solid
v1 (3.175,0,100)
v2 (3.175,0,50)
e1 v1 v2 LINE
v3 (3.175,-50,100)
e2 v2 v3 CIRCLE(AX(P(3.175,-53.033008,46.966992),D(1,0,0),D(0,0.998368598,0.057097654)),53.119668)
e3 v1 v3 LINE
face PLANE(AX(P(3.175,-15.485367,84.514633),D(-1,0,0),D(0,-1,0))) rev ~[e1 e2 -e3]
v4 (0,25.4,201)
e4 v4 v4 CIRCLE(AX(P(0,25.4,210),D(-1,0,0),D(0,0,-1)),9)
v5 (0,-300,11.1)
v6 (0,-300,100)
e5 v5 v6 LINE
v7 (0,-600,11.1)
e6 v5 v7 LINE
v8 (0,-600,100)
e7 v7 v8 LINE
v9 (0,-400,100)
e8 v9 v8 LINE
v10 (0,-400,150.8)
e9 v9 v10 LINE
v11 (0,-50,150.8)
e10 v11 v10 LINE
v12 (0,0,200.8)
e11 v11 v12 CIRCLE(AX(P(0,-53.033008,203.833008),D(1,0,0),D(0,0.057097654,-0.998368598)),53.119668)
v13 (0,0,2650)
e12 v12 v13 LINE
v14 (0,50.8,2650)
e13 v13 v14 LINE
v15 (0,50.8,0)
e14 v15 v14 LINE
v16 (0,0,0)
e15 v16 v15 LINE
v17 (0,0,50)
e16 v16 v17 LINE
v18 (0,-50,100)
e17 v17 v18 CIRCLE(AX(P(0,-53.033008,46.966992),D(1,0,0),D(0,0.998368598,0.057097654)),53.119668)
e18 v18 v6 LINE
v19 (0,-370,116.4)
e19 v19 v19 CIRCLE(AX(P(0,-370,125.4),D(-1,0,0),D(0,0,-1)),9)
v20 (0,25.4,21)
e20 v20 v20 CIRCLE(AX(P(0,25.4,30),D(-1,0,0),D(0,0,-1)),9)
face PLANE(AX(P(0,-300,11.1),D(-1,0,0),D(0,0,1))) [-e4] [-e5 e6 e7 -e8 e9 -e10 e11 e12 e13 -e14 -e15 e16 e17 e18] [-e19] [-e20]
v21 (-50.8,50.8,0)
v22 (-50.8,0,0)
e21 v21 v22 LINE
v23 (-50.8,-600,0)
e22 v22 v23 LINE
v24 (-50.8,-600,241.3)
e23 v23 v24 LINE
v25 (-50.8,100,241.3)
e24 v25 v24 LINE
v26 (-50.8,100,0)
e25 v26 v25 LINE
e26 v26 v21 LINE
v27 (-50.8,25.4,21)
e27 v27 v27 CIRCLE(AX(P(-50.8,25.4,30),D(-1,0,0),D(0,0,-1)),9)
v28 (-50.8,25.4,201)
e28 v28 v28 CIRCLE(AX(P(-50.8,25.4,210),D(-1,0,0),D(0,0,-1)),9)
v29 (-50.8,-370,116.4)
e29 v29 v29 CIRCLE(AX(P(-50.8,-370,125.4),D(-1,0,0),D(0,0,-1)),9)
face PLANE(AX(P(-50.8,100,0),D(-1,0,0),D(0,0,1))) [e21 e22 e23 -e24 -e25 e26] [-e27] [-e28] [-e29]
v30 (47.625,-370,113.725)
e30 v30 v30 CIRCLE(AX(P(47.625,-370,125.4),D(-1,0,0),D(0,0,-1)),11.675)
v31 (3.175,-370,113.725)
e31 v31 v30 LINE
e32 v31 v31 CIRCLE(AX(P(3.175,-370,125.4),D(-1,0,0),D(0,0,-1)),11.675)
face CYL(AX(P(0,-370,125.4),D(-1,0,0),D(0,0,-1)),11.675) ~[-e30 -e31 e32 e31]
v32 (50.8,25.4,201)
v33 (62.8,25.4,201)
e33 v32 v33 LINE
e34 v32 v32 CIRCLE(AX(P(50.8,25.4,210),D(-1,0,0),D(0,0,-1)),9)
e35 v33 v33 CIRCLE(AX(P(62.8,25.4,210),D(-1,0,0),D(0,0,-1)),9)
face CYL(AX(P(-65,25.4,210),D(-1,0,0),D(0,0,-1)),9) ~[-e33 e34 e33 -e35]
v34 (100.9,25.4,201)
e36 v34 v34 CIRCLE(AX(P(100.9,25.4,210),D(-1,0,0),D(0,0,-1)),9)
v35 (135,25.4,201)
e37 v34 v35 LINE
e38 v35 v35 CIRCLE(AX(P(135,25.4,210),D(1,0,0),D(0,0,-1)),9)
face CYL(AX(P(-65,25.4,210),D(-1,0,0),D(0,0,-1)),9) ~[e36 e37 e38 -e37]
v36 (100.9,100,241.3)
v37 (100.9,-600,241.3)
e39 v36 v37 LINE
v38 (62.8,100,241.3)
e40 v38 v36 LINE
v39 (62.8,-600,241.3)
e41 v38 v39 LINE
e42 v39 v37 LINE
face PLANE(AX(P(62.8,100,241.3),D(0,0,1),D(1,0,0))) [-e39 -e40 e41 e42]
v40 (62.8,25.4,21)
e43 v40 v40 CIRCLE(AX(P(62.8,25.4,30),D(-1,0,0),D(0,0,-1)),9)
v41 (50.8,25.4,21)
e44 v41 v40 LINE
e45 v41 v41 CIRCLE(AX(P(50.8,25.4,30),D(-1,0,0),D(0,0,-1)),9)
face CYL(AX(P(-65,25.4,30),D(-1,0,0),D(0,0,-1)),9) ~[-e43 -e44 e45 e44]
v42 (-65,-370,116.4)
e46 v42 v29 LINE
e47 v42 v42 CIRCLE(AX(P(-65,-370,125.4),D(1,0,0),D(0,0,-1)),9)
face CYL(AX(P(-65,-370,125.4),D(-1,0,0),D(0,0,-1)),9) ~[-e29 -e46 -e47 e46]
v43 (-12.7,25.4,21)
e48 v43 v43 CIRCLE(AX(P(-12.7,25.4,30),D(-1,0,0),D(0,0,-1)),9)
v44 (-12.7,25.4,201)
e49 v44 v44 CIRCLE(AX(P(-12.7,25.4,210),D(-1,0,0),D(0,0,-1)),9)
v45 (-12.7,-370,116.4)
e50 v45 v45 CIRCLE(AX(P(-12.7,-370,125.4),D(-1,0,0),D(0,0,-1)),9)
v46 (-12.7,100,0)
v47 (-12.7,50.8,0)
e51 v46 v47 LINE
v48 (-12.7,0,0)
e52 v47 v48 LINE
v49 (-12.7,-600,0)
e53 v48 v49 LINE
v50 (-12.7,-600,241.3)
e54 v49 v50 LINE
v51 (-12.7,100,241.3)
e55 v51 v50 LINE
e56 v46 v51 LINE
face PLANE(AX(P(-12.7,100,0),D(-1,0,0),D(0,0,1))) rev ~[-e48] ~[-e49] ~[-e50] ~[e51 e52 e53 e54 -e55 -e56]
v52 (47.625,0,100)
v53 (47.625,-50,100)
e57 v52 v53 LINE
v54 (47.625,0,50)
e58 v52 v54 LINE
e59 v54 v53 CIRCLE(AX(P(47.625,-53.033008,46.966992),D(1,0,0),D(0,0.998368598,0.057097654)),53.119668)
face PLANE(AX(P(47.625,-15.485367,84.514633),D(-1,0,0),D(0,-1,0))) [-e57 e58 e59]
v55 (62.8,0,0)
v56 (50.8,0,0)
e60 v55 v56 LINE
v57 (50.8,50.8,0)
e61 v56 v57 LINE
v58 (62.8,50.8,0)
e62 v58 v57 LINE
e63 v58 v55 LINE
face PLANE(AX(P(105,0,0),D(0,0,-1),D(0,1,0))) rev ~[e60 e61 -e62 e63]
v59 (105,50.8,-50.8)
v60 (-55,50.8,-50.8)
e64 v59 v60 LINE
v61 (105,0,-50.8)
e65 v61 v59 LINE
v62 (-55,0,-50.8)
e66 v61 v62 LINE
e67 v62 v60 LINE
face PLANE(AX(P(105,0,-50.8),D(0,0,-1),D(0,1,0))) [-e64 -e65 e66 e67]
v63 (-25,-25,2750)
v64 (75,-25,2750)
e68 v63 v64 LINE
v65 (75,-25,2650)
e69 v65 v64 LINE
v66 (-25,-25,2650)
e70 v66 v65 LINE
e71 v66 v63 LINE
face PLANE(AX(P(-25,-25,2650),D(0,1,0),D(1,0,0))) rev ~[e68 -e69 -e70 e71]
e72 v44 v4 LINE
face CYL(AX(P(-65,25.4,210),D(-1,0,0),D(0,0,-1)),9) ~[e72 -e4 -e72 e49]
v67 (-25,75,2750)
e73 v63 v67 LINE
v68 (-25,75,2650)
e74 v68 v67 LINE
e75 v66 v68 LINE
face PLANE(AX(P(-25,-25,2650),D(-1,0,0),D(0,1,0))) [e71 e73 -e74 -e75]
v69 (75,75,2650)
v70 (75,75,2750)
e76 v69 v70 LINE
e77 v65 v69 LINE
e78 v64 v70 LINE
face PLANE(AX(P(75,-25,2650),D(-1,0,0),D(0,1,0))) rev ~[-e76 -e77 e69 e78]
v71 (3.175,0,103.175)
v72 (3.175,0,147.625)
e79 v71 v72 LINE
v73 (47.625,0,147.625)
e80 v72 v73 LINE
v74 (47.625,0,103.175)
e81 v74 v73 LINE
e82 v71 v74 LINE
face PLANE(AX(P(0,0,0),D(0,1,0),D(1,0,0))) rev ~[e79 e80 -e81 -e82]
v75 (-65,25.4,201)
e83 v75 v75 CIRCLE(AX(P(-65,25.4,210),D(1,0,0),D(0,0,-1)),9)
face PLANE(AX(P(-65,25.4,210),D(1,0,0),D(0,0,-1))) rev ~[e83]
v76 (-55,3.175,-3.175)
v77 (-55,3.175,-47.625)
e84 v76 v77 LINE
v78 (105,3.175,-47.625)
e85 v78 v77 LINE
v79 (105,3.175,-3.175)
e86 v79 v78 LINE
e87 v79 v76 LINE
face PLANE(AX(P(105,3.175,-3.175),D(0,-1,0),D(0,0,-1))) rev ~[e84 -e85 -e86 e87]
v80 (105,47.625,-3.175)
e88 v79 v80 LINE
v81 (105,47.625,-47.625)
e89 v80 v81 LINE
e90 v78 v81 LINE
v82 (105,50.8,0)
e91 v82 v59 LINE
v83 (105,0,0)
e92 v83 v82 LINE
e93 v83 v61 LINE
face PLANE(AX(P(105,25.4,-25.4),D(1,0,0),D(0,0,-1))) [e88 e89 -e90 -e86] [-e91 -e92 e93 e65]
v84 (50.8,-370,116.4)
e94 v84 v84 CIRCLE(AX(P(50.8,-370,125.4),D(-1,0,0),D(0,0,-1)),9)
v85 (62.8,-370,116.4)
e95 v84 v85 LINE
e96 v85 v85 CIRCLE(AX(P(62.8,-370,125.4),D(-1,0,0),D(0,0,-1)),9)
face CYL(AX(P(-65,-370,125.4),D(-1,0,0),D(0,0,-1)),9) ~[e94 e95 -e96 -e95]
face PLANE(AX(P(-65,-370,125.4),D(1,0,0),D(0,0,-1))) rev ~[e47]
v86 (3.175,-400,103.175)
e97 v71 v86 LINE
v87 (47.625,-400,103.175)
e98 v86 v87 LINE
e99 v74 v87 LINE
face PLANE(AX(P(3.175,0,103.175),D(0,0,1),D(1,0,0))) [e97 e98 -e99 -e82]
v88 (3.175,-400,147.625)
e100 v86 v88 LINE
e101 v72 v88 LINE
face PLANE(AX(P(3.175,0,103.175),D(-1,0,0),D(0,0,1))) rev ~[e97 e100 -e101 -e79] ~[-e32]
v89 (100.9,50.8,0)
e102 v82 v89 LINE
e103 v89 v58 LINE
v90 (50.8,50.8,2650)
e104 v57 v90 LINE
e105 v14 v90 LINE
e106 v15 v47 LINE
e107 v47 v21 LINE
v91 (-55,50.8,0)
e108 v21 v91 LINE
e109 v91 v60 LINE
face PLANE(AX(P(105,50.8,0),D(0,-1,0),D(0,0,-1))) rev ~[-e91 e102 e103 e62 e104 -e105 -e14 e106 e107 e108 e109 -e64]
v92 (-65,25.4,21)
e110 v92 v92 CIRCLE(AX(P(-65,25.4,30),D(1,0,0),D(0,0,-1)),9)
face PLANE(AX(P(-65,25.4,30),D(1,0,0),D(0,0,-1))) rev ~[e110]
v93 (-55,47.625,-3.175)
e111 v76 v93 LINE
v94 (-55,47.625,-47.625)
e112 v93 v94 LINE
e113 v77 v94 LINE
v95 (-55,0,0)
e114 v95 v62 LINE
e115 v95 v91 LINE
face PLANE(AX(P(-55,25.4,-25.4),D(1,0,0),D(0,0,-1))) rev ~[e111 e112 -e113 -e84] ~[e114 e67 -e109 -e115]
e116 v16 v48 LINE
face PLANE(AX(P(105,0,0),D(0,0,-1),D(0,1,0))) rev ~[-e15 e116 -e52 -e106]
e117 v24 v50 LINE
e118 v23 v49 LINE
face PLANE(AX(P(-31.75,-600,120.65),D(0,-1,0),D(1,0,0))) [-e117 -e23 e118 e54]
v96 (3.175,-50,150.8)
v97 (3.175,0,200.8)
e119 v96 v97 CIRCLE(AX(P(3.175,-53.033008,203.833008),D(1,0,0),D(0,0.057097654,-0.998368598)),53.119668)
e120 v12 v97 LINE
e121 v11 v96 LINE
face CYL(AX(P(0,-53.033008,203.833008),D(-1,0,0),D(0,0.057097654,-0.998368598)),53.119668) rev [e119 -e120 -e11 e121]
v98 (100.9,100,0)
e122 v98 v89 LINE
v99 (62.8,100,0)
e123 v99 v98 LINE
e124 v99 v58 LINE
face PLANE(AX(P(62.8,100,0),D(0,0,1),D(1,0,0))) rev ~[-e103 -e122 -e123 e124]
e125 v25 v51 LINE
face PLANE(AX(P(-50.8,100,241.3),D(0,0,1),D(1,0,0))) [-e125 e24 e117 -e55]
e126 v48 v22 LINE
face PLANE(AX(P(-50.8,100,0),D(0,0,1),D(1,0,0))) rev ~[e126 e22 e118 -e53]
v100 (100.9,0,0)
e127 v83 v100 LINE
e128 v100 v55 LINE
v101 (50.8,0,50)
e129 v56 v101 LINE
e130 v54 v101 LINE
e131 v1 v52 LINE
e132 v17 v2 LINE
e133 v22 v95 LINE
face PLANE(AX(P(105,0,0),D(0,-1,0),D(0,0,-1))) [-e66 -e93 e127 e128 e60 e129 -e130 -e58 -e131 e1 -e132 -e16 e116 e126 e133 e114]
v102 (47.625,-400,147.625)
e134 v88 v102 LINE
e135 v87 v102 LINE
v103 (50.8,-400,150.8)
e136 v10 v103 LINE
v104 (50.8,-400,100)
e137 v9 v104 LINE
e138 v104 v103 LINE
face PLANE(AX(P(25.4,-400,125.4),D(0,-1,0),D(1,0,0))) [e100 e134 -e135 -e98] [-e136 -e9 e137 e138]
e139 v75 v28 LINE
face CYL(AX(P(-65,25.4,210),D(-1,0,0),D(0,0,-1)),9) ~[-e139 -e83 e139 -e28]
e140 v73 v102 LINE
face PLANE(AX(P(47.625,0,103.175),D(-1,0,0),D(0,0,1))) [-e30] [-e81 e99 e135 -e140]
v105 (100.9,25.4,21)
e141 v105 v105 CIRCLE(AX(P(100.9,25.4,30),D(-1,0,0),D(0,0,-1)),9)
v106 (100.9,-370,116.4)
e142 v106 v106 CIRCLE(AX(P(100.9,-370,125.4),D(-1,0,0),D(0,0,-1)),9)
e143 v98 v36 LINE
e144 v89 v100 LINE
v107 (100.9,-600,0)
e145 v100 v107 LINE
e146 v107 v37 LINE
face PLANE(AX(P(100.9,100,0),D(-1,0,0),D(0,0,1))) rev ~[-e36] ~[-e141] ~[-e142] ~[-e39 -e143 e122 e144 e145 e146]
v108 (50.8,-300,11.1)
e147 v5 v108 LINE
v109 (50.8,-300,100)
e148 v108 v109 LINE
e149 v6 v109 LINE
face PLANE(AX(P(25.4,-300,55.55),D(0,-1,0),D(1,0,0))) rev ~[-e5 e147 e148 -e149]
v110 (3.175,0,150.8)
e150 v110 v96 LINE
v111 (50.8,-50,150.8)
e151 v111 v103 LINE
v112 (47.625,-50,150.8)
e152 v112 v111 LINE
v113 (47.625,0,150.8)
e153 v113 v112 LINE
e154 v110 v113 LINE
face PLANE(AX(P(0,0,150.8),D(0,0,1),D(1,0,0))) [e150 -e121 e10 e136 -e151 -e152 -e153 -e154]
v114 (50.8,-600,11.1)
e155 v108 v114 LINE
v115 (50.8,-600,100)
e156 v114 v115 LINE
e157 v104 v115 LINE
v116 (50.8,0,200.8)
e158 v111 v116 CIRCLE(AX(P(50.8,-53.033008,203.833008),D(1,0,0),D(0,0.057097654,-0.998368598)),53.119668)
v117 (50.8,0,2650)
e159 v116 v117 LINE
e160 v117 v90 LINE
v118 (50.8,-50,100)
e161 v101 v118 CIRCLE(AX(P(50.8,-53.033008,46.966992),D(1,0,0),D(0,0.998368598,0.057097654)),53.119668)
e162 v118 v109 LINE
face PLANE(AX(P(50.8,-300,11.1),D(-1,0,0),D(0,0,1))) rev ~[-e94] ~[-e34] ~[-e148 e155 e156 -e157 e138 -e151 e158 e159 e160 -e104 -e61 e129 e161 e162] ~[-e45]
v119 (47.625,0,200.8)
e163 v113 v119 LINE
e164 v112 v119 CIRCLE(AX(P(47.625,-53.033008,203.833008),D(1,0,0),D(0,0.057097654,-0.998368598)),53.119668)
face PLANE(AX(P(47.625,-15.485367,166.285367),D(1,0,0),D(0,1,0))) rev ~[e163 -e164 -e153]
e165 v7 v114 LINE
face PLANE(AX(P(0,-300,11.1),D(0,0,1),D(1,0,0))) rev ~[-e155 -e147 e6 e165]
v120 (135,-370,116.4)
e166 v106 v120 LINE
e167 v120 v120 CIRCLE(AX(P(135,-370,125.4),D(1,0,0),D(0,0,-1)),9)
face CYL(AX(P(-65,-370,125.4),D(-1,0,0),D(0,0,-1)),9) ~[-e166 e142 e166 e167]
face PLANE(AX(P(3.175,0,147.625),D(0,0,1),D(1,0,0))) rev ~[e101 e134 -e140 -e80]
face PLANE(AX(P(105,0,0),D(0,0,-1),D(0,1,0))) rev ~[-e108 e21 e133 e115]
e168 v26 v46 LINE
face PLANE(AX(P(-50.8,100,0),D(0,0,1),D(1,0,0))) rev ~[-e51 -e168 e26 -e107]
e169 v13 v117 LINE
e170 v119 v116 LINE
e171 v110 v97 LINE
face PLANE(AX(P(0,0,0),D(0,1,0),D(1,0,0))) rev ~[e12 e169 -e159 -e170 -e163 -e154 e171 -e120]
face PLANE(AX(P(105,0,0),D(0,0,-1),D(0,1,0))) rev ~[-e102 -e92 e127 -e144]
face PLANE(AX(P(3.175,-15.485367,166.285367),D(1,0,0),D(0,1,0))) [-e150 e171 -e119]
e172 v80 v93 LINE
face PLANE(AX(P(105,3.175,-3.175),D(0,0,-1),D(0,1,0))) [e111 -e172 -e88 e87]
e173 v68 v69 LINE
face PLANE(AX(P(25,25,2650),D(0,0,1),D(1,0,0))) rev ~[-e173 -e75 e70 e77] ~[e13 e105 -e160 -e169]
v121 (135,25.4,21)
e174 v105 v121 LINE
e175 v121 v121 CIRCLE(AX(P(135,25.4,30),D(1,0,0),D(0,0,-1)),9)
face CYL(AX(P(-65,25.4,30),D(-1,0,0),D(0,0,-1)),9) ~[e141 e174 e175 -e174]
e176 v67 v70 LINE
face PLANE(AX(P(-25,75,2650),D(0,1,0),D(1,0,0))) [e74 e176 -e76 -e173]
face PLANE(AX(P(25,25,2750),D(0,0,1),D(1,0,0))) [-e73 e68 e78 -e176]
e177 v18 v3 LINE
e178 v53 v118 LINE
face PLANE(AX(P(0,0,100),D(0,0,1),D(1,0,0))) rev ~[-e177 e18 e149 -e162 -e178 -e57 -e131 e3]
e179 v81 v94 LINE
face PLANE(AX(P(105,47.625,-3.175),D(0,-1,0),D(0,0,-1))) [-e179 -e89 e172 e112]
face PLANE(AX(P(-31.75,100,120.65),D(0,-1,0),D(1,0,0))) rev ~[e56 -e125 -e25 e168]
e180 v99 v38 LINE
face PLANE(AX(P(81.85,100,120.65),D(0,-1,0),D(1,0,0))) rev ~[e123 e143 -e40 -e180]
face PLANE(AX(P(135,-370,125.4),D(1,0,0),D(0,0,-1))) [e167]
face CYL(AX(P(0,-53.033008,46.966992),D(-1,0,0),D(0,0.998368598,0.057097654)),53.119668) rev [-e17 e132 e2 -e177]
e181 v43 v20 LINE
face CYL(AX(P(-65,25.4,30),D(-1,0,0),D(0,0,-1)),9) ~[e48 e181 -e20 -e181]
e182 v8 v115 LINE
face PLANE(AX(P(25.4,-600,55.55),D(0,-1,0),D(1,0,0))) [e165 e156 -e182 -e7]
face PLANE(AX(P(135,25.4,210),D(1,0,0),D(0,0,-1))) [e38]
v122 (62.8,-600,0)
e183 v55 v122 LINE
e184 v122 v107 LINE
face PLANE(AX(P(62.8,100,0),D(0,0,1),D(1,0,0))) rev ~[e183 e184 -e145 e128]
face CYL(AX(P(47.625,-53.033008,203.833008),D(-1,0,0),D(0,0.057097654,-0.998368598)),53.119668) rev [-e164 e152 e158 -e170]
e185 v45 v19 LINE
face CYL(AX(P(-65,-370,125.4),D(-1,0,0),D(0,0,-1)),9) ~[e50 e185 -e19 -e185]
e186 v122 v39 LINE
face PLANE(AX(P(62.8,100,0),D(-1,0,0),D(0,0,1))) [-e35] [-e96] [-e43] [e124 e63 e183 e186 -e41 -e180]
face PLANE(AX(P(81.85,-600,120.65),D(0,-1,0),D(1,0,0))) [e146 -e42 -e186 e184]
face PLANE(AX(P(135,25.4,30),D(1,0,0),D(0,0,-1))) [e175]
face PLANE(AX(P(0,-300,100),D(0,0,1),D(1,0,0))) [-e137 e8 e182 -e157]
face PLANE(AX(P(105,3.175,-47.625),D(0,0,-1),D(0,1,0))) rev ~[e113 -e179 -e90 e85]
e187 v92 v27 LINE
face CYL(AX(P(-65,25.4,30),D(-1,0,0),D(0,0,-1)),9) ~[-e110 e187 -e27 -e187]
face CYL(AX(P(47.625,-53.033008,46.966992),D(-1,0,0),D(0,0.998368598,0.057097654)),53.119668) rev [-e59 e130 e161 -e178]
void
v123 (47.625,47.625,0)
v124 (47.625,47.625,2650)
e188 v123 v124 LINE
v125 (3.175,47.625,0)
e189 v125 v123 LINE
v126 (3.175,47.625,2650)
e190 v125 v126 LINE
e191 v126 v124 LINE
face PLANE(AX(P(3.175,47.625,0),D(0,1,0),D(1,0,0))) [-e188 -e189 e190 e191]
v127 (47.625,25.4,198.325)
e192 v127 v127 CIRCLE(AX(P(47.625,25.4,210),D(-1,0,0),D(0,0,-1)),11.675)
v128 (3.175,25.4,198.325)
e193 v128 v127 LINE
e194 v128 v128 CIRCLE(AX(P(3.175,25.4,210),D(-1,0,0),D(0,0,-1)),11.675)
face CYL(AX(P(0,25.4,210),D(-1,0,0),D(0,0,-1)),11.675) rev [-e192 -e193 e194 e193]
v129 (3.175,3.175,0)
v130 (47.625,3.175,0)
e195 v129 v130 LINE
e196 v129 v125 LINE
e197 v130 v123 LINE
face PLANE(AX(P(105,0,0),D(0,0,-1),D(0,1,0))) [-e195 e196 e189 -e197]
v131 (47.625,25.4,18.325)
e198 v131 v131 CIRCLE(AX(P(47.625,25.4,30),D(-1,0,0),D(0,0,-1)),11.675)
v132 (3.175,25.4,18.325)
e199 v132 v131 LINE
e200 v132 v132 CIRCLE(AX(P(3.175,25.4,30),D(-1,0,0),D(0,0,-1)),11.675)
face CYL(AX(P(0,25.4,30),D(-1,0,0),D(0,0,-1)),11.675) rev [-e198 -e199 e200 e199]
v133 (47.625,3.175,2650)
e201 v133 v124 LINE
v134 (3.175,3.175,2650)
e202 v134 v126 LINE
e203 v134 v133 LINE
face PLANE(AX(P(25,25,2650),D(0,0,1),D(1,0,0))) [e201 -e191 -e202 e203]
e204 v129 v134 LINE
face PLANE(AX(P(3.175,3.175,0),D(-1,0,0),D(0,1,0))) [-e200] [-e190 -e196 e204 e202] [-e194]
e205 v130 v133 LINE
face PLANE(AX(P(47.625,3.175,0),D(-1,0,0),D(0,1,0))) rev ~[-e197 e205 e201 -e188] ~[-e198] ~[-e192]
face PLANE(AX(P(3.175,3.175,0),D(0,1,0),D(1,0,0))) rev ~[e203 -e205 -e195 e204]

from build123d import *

# Parameters (mm, degrees)
SKETCH013_R   = 9
PAD016_DEPTH  = 200
BOX_W         = 100
BOX_H         = 100
BOX_DEPTH     = 100
SKETCH010_W   = 38.1
SKETCH010_H   = 241.3
PAD013_DEPTH  = 700
SKETCH011_R   = 9
PAD014_DEPTH  = 200
SKETCH014_W   = 50.8
SKETCH014_H   = 50.8
SKETCH014_W_2 = 44.45
SKETCH014_H_2 = 44.45
PAD017_DEPTH  = 160
SKETCH015_W   = 38.1
SKETCH015_H   = 241.3
PAD018_DEPTH  = 700
SKETCH016_W   = 50.8
SKETCH016_H   = 88.9
PAD019_DEPTH  = 300
PAD005_DEPTH  = 3.175
PAD004_DEPTH  = 3.175
PAD002_DEPTH  = 3.175
SKETCH004_R   = 11.675
SKETCH004_R_2 = 8.5
PAD007_DEPTH  = 50.8
SKETCH005_R   = 9
PAD008_DEPTH  = 50.8
SKETCH001_W   = 50.8
SKETCH001_H   = 50.8
SKETCH001_W_2 = 44.45
SKETCH001_H_2 = 44.45
PAD001_DEPTH  = 400
SKETCH006_R   = 11.675
SKETCH006_R_2 = 8.5
PAD009_DEPTH  = 50.8
SKETCH007_R   = 11.675
SKETCH007_R_2 = 8.5
PAD010_DEPTH  = 50.8
SKETCH009_R   = 9
PAD012_DEPTH  = 50.8
SKETCH008_R   = 9
PAD011_DEPTH  = 50.8
SKETCH_W      = 50.8
SKETCH_H      = 50.8
SKETCH_W_2    = 44.45
SKETCH_H_2    = 44.45
PAD_DEPTH     = 2650
PAD006_DEPTH  = 3.175
SKETCH012_R   = 9
PAD015_DEPTH  = 200


with BuildPart() as lower_bolt:
    # Sketch013 → Pad016 (new body)
    with BuildSketch(Plane(origin=(-65, 25.4, 30), x_dir=(0, 0, -1), z_dir=(1, 0, 0))):
        Circle(SKETCH013_R)
    extrude(amount=PAD016_DEPTH)


with BuildPart() as cube:
    # Box → Box (new body)
    with BuildSketch(Plane(origin=(-25, -25, 2650), x_dir=(1, 0, 0), z_dir=(0, 0, 1))):
        with Locations((50, 50)):
            Rectangle(BOX_W, BOX_H)
    extrude(amount=BOX_DEPTH)


with BuildPart() as joist:
    # Sketch010 → Pad013 (new body)
    with BuildSketch(Plane(origin=(-50.8, 100, 0), x_dir=(1, 0, 0), z_dir=(0, -1, 0))):
        with Locations((19.05, 120.65)):
            Rectangle(SKETCH010_W, SKETCH010_H)
    extrude(amount=PAD013_DEPTH)


with BuildPart() as brace_bolt:
    # Sketch011 → Pad014 (new body)
    with BuildSketch(Plane(origin=(-65, -370, 125.4), x_dir=(0, 0, -1), z_dir=(1, 0, 0))):
        Circle(SKETCH011_R)
    extrude(amount=PAD014_DEPTH)


with BuildPart() as lower_support_tube:
    # Sketch014 → Pad017 (new body)
    with BuildSketch(Plane(origin=(105, 0, 0), x_dir=(0, 0, -1), z_dir=(1, 0, 0))):
        with Locations((25.4, 25.4)):
            Rectangle(SKETCH014_W, SKETCH014_H)
        with Locations((25.4, 25.4)):
            Rectangle(SKETCH014_W_2, SKETCH014_H_2, mode=Mode.SUBTRACT)
    extrude(amount=-PAD017_DEPTH)


with BuildPart() as pad018:
    # Sketch015 → Pad018 (new body)
    with BuildSketch(Plane(origin=(62.8, 100, 0), x_dir=(1, 0, 0), z_dir=(0, -1, 0))):
        with Locations((19.05, 120.65)):
            Rectangle(SKETCH015_W, SKETCH015_H)
    extrude(amount=PAD018_DEPTH)


with BuildPart() as brace_support:
    # Sketch016 → Pad019 (new body)
    with BuildSketch(Plane(origin=(0, -300, 11.1), x_dir=(1, 0, 0), z_dir=(0, -1, 0))):
        with Locations((25.4, 44.45)):
            Rectangle(SKETCH016_W, SKETCH016_H)
    extrude(amount=PAD019_DEPTH)


with BuildPart() as gusset3:
    # Sketch003 → Pad005 (new body)
    with BuildSketch(Plane(origin=(47.625, 0, 150.8), x_dir=(0, 1, 0), z_dir=(1, 0, 0))):
        with BuildLine():
            Line((0, 0), (0, 50))
            ThreePointArc((-50, 0), (-15.471731, 15.471731), (0, 50))
            Line((0, 0), (-50, 0))
        make_face()
    extrude(amount=PAD005_DEPTH)


with BuildPart() as gusset2:
    # MirroredSketch → Pad004 (new body)
    with BuildSketch(Plane(origin=(0, 0, 100), x_dir=(0, 1, 0), z_dir=(1, 0, 0))):
        with BuildLine():
            Line((0, 0), (0, -50))
            ThreePointArc((0, -50), (-15.471731, -15.471731), (-50, 0))
            Line((0, 0), (-50, 0))
        make_face()
    extrude(amount=PAD004_DEPTH)


with BuildPart() as gusset1:
    # Sketch002 → Pad002 (new body)
    with BuildSketch(Plane(origin=(0, 0, 150.8), x_dir=(0, 1, 0), z_dir=(1, 0, 0))):
        with BuildLine():
            Line((0, 0), (0, 50))
            ThreePointArc((-50, 0), (-15.471731, 15.471731), (0, 50))
            Line((0, 0), (-50, 0))
        make_face()
    extrude(amount=PAD002_DEPTH)


with BuildPart() as brace_bolt_tube:
    # Sketch004 → Pad007 (new body)
    with BuildSketch(Plane(origin=(0, -370, 125.4), x_dir=(0, 0, -1), z_dir=(1, 0, 0))):
        Circle(SKETCH004_R)
        Circle(SKETCH004_R_2, mode=Mode.SUBTRACT)
    extrude(amount=PAD007_DEPTH)


with BuildPart() as brace_bolt_hole:
    # Sketch005 → Pad008 (new body)
    with BuildSketch(Plane(origin=(0, -370, 125.4), x_dir=(0, 0, -1), z_dir=(1, 0, 0))):
        Circle(SKETCH005_R)
    extrude(amount=PAD008_DEPTH)


with BuildPart() as brace_fusion:
    # Sketch001 → Pad001 (new body)
    with BuildSketch(Plane(origin=(0, 0, 100), x_dir=(1, 0, 0), z_dir=(0, -1, 0))):
        with Locations((25.4, 25.4)):
            Rectangle(SKETCH001_W, SKETCH001_H)
        with Locations((25.4, 25.4)):
            Rectangle(SKETCH001_W_2, SKETCH001_H_2, mode=Mode.SUBTRACT)
    extrude(amount=PAD001_DEPTH)

    # Cut: cut Brace Bolt Hole
    add(brace_bolt_hole.part, mode=Mode.SUBTRACT)

    # Fusion: union Brace Bolt Tube
    add(brace_bolt_tube.part)


with BuildPart() as lower_bolt_tube:
    # Sketch006 → Pad009 (new body)
    with BuildSketch(Plane(origin=(0, 25.4, 30), x_dir=(0, 0, -1), z_dir=(1, 0, 0))):
        Circle(SKETCH006_R)
        Circle(SKETCH006_R_2, mode=Mode.SUBTRACT)
    extrude(amount=PAD009_DEPTH)


with BuildPart() as upper_bolt_tube:
    # Sketch007 → Pad010 (new body)
    with BuildSketch(Plane(origin=(0, 25.4, 210), x_dir=(0, 0, -1), z_dir=(1, 0, 0))):
        Circle(SKETCH007_R)
        Circle(SKETCH007_R_2, mode=Mode.SUBTRACT)
    extrude(amount=PAD010_DEPTH)


with BuildPart() as upper_bolt_hole:
    # Sketch009 → Pad012 (new body)
    with BuildSketch(Plane(origin=(0, 25.4, 210), x_dir=(0, 0, -1), z_dir=(1, 0, 0))):
        Circle(SKETCH009_R)
    extrude(amount=PAD012_DEPTH)


with BuildPart() as lower_bolt_hole:
    # Sketch008 → Pad011 (new body)
    with BuildSketch(Plane(origin=(0, 25.4, 30), x_dir=(0, 0, -1), z_dir=(1, 0, 0))):
        Circle(SKETCH008_R)
    extrude(amount=PAD011_DEPTH)


with BuildPart() as post_fusion:
    # Sketch → Pad (new body)
    with BuildSketch(Plane.XY):
        with Locations((25.4, 25.4)):
            Rectangle(SKETCH_W, SKETCH_H)
        with Locations((25.4, 25.4)):
            Rectangle(SKETCH_W_2, SKETCH_H_2, mode=Mode.SUBTRACT)
    extrude(amount=PAD_DEPTH)

    # Cut001: cut Lower Bolt Hole
    add(lower_bolt_hole.part, mode=Mode.SUBTRACT)

    # Cut002: cut Upper Bolt Hole
    add(upper_bolt_hole.part, mode=Mode.SUBTRACT)

    # Fusion001: union Lower Bolt Tube, Upper Bolt Tube
    add(lower_bolt_tube.part)
    add(upper_bolt_tube.part)


with BuildPart() as fusion004:
    # MirroredSketch001 → Pad006 (new body)
    with BuildSketch(Plane(origin=(47.625, 0, 100), x_dir=(0, 1, 0), z_dir=(1, 0, 0))):
        with BuildLine():
            Line((0, 0), (0, -50))
            ThreePointArc((0, -50), (-15.471731, -15.471731), (-50, 0))
            Line((0, 0), (-50, 0))
        make_face()
    extrude(amount=PAD006_DEPTH)

    # Fusion002: union Gusset3, Gusset2, Gusset1, Brace Fusion, Post Fusion
    add(gusset3.part)
    add(gusset2.part)
    add(gusset1.part)
    add(brace_fusion.part)
    add(post_fusion.part)

    # Fusion003: union Joist, Brace Bolt, Lower support Tube, Pad018, Brace Support
    add(joist.part)
    add(brace_bolt.part)
    add(lower_support_tube.part)
    add(pad018.part)
    add(brace_support.part)

    # Fusion004: union Cube
    add(cube.part)


with BuildPart() as fusion005:
    # Sketch012 → Pad015 (new body)
    with BuildSketch(Plane(origin=(-65, 25.4, 210), x_dir=(0, 0, -1), z_dir=(1, 0, 0))):
        Circle(SKETCH012_R)
    extrude(amount=PAD015_DEPTH)

    # Fusion005: union Lower Bolt, Fusion004
    add(lower_bolt.part)
    add(fusion004.part)


solid = fusion005.part
